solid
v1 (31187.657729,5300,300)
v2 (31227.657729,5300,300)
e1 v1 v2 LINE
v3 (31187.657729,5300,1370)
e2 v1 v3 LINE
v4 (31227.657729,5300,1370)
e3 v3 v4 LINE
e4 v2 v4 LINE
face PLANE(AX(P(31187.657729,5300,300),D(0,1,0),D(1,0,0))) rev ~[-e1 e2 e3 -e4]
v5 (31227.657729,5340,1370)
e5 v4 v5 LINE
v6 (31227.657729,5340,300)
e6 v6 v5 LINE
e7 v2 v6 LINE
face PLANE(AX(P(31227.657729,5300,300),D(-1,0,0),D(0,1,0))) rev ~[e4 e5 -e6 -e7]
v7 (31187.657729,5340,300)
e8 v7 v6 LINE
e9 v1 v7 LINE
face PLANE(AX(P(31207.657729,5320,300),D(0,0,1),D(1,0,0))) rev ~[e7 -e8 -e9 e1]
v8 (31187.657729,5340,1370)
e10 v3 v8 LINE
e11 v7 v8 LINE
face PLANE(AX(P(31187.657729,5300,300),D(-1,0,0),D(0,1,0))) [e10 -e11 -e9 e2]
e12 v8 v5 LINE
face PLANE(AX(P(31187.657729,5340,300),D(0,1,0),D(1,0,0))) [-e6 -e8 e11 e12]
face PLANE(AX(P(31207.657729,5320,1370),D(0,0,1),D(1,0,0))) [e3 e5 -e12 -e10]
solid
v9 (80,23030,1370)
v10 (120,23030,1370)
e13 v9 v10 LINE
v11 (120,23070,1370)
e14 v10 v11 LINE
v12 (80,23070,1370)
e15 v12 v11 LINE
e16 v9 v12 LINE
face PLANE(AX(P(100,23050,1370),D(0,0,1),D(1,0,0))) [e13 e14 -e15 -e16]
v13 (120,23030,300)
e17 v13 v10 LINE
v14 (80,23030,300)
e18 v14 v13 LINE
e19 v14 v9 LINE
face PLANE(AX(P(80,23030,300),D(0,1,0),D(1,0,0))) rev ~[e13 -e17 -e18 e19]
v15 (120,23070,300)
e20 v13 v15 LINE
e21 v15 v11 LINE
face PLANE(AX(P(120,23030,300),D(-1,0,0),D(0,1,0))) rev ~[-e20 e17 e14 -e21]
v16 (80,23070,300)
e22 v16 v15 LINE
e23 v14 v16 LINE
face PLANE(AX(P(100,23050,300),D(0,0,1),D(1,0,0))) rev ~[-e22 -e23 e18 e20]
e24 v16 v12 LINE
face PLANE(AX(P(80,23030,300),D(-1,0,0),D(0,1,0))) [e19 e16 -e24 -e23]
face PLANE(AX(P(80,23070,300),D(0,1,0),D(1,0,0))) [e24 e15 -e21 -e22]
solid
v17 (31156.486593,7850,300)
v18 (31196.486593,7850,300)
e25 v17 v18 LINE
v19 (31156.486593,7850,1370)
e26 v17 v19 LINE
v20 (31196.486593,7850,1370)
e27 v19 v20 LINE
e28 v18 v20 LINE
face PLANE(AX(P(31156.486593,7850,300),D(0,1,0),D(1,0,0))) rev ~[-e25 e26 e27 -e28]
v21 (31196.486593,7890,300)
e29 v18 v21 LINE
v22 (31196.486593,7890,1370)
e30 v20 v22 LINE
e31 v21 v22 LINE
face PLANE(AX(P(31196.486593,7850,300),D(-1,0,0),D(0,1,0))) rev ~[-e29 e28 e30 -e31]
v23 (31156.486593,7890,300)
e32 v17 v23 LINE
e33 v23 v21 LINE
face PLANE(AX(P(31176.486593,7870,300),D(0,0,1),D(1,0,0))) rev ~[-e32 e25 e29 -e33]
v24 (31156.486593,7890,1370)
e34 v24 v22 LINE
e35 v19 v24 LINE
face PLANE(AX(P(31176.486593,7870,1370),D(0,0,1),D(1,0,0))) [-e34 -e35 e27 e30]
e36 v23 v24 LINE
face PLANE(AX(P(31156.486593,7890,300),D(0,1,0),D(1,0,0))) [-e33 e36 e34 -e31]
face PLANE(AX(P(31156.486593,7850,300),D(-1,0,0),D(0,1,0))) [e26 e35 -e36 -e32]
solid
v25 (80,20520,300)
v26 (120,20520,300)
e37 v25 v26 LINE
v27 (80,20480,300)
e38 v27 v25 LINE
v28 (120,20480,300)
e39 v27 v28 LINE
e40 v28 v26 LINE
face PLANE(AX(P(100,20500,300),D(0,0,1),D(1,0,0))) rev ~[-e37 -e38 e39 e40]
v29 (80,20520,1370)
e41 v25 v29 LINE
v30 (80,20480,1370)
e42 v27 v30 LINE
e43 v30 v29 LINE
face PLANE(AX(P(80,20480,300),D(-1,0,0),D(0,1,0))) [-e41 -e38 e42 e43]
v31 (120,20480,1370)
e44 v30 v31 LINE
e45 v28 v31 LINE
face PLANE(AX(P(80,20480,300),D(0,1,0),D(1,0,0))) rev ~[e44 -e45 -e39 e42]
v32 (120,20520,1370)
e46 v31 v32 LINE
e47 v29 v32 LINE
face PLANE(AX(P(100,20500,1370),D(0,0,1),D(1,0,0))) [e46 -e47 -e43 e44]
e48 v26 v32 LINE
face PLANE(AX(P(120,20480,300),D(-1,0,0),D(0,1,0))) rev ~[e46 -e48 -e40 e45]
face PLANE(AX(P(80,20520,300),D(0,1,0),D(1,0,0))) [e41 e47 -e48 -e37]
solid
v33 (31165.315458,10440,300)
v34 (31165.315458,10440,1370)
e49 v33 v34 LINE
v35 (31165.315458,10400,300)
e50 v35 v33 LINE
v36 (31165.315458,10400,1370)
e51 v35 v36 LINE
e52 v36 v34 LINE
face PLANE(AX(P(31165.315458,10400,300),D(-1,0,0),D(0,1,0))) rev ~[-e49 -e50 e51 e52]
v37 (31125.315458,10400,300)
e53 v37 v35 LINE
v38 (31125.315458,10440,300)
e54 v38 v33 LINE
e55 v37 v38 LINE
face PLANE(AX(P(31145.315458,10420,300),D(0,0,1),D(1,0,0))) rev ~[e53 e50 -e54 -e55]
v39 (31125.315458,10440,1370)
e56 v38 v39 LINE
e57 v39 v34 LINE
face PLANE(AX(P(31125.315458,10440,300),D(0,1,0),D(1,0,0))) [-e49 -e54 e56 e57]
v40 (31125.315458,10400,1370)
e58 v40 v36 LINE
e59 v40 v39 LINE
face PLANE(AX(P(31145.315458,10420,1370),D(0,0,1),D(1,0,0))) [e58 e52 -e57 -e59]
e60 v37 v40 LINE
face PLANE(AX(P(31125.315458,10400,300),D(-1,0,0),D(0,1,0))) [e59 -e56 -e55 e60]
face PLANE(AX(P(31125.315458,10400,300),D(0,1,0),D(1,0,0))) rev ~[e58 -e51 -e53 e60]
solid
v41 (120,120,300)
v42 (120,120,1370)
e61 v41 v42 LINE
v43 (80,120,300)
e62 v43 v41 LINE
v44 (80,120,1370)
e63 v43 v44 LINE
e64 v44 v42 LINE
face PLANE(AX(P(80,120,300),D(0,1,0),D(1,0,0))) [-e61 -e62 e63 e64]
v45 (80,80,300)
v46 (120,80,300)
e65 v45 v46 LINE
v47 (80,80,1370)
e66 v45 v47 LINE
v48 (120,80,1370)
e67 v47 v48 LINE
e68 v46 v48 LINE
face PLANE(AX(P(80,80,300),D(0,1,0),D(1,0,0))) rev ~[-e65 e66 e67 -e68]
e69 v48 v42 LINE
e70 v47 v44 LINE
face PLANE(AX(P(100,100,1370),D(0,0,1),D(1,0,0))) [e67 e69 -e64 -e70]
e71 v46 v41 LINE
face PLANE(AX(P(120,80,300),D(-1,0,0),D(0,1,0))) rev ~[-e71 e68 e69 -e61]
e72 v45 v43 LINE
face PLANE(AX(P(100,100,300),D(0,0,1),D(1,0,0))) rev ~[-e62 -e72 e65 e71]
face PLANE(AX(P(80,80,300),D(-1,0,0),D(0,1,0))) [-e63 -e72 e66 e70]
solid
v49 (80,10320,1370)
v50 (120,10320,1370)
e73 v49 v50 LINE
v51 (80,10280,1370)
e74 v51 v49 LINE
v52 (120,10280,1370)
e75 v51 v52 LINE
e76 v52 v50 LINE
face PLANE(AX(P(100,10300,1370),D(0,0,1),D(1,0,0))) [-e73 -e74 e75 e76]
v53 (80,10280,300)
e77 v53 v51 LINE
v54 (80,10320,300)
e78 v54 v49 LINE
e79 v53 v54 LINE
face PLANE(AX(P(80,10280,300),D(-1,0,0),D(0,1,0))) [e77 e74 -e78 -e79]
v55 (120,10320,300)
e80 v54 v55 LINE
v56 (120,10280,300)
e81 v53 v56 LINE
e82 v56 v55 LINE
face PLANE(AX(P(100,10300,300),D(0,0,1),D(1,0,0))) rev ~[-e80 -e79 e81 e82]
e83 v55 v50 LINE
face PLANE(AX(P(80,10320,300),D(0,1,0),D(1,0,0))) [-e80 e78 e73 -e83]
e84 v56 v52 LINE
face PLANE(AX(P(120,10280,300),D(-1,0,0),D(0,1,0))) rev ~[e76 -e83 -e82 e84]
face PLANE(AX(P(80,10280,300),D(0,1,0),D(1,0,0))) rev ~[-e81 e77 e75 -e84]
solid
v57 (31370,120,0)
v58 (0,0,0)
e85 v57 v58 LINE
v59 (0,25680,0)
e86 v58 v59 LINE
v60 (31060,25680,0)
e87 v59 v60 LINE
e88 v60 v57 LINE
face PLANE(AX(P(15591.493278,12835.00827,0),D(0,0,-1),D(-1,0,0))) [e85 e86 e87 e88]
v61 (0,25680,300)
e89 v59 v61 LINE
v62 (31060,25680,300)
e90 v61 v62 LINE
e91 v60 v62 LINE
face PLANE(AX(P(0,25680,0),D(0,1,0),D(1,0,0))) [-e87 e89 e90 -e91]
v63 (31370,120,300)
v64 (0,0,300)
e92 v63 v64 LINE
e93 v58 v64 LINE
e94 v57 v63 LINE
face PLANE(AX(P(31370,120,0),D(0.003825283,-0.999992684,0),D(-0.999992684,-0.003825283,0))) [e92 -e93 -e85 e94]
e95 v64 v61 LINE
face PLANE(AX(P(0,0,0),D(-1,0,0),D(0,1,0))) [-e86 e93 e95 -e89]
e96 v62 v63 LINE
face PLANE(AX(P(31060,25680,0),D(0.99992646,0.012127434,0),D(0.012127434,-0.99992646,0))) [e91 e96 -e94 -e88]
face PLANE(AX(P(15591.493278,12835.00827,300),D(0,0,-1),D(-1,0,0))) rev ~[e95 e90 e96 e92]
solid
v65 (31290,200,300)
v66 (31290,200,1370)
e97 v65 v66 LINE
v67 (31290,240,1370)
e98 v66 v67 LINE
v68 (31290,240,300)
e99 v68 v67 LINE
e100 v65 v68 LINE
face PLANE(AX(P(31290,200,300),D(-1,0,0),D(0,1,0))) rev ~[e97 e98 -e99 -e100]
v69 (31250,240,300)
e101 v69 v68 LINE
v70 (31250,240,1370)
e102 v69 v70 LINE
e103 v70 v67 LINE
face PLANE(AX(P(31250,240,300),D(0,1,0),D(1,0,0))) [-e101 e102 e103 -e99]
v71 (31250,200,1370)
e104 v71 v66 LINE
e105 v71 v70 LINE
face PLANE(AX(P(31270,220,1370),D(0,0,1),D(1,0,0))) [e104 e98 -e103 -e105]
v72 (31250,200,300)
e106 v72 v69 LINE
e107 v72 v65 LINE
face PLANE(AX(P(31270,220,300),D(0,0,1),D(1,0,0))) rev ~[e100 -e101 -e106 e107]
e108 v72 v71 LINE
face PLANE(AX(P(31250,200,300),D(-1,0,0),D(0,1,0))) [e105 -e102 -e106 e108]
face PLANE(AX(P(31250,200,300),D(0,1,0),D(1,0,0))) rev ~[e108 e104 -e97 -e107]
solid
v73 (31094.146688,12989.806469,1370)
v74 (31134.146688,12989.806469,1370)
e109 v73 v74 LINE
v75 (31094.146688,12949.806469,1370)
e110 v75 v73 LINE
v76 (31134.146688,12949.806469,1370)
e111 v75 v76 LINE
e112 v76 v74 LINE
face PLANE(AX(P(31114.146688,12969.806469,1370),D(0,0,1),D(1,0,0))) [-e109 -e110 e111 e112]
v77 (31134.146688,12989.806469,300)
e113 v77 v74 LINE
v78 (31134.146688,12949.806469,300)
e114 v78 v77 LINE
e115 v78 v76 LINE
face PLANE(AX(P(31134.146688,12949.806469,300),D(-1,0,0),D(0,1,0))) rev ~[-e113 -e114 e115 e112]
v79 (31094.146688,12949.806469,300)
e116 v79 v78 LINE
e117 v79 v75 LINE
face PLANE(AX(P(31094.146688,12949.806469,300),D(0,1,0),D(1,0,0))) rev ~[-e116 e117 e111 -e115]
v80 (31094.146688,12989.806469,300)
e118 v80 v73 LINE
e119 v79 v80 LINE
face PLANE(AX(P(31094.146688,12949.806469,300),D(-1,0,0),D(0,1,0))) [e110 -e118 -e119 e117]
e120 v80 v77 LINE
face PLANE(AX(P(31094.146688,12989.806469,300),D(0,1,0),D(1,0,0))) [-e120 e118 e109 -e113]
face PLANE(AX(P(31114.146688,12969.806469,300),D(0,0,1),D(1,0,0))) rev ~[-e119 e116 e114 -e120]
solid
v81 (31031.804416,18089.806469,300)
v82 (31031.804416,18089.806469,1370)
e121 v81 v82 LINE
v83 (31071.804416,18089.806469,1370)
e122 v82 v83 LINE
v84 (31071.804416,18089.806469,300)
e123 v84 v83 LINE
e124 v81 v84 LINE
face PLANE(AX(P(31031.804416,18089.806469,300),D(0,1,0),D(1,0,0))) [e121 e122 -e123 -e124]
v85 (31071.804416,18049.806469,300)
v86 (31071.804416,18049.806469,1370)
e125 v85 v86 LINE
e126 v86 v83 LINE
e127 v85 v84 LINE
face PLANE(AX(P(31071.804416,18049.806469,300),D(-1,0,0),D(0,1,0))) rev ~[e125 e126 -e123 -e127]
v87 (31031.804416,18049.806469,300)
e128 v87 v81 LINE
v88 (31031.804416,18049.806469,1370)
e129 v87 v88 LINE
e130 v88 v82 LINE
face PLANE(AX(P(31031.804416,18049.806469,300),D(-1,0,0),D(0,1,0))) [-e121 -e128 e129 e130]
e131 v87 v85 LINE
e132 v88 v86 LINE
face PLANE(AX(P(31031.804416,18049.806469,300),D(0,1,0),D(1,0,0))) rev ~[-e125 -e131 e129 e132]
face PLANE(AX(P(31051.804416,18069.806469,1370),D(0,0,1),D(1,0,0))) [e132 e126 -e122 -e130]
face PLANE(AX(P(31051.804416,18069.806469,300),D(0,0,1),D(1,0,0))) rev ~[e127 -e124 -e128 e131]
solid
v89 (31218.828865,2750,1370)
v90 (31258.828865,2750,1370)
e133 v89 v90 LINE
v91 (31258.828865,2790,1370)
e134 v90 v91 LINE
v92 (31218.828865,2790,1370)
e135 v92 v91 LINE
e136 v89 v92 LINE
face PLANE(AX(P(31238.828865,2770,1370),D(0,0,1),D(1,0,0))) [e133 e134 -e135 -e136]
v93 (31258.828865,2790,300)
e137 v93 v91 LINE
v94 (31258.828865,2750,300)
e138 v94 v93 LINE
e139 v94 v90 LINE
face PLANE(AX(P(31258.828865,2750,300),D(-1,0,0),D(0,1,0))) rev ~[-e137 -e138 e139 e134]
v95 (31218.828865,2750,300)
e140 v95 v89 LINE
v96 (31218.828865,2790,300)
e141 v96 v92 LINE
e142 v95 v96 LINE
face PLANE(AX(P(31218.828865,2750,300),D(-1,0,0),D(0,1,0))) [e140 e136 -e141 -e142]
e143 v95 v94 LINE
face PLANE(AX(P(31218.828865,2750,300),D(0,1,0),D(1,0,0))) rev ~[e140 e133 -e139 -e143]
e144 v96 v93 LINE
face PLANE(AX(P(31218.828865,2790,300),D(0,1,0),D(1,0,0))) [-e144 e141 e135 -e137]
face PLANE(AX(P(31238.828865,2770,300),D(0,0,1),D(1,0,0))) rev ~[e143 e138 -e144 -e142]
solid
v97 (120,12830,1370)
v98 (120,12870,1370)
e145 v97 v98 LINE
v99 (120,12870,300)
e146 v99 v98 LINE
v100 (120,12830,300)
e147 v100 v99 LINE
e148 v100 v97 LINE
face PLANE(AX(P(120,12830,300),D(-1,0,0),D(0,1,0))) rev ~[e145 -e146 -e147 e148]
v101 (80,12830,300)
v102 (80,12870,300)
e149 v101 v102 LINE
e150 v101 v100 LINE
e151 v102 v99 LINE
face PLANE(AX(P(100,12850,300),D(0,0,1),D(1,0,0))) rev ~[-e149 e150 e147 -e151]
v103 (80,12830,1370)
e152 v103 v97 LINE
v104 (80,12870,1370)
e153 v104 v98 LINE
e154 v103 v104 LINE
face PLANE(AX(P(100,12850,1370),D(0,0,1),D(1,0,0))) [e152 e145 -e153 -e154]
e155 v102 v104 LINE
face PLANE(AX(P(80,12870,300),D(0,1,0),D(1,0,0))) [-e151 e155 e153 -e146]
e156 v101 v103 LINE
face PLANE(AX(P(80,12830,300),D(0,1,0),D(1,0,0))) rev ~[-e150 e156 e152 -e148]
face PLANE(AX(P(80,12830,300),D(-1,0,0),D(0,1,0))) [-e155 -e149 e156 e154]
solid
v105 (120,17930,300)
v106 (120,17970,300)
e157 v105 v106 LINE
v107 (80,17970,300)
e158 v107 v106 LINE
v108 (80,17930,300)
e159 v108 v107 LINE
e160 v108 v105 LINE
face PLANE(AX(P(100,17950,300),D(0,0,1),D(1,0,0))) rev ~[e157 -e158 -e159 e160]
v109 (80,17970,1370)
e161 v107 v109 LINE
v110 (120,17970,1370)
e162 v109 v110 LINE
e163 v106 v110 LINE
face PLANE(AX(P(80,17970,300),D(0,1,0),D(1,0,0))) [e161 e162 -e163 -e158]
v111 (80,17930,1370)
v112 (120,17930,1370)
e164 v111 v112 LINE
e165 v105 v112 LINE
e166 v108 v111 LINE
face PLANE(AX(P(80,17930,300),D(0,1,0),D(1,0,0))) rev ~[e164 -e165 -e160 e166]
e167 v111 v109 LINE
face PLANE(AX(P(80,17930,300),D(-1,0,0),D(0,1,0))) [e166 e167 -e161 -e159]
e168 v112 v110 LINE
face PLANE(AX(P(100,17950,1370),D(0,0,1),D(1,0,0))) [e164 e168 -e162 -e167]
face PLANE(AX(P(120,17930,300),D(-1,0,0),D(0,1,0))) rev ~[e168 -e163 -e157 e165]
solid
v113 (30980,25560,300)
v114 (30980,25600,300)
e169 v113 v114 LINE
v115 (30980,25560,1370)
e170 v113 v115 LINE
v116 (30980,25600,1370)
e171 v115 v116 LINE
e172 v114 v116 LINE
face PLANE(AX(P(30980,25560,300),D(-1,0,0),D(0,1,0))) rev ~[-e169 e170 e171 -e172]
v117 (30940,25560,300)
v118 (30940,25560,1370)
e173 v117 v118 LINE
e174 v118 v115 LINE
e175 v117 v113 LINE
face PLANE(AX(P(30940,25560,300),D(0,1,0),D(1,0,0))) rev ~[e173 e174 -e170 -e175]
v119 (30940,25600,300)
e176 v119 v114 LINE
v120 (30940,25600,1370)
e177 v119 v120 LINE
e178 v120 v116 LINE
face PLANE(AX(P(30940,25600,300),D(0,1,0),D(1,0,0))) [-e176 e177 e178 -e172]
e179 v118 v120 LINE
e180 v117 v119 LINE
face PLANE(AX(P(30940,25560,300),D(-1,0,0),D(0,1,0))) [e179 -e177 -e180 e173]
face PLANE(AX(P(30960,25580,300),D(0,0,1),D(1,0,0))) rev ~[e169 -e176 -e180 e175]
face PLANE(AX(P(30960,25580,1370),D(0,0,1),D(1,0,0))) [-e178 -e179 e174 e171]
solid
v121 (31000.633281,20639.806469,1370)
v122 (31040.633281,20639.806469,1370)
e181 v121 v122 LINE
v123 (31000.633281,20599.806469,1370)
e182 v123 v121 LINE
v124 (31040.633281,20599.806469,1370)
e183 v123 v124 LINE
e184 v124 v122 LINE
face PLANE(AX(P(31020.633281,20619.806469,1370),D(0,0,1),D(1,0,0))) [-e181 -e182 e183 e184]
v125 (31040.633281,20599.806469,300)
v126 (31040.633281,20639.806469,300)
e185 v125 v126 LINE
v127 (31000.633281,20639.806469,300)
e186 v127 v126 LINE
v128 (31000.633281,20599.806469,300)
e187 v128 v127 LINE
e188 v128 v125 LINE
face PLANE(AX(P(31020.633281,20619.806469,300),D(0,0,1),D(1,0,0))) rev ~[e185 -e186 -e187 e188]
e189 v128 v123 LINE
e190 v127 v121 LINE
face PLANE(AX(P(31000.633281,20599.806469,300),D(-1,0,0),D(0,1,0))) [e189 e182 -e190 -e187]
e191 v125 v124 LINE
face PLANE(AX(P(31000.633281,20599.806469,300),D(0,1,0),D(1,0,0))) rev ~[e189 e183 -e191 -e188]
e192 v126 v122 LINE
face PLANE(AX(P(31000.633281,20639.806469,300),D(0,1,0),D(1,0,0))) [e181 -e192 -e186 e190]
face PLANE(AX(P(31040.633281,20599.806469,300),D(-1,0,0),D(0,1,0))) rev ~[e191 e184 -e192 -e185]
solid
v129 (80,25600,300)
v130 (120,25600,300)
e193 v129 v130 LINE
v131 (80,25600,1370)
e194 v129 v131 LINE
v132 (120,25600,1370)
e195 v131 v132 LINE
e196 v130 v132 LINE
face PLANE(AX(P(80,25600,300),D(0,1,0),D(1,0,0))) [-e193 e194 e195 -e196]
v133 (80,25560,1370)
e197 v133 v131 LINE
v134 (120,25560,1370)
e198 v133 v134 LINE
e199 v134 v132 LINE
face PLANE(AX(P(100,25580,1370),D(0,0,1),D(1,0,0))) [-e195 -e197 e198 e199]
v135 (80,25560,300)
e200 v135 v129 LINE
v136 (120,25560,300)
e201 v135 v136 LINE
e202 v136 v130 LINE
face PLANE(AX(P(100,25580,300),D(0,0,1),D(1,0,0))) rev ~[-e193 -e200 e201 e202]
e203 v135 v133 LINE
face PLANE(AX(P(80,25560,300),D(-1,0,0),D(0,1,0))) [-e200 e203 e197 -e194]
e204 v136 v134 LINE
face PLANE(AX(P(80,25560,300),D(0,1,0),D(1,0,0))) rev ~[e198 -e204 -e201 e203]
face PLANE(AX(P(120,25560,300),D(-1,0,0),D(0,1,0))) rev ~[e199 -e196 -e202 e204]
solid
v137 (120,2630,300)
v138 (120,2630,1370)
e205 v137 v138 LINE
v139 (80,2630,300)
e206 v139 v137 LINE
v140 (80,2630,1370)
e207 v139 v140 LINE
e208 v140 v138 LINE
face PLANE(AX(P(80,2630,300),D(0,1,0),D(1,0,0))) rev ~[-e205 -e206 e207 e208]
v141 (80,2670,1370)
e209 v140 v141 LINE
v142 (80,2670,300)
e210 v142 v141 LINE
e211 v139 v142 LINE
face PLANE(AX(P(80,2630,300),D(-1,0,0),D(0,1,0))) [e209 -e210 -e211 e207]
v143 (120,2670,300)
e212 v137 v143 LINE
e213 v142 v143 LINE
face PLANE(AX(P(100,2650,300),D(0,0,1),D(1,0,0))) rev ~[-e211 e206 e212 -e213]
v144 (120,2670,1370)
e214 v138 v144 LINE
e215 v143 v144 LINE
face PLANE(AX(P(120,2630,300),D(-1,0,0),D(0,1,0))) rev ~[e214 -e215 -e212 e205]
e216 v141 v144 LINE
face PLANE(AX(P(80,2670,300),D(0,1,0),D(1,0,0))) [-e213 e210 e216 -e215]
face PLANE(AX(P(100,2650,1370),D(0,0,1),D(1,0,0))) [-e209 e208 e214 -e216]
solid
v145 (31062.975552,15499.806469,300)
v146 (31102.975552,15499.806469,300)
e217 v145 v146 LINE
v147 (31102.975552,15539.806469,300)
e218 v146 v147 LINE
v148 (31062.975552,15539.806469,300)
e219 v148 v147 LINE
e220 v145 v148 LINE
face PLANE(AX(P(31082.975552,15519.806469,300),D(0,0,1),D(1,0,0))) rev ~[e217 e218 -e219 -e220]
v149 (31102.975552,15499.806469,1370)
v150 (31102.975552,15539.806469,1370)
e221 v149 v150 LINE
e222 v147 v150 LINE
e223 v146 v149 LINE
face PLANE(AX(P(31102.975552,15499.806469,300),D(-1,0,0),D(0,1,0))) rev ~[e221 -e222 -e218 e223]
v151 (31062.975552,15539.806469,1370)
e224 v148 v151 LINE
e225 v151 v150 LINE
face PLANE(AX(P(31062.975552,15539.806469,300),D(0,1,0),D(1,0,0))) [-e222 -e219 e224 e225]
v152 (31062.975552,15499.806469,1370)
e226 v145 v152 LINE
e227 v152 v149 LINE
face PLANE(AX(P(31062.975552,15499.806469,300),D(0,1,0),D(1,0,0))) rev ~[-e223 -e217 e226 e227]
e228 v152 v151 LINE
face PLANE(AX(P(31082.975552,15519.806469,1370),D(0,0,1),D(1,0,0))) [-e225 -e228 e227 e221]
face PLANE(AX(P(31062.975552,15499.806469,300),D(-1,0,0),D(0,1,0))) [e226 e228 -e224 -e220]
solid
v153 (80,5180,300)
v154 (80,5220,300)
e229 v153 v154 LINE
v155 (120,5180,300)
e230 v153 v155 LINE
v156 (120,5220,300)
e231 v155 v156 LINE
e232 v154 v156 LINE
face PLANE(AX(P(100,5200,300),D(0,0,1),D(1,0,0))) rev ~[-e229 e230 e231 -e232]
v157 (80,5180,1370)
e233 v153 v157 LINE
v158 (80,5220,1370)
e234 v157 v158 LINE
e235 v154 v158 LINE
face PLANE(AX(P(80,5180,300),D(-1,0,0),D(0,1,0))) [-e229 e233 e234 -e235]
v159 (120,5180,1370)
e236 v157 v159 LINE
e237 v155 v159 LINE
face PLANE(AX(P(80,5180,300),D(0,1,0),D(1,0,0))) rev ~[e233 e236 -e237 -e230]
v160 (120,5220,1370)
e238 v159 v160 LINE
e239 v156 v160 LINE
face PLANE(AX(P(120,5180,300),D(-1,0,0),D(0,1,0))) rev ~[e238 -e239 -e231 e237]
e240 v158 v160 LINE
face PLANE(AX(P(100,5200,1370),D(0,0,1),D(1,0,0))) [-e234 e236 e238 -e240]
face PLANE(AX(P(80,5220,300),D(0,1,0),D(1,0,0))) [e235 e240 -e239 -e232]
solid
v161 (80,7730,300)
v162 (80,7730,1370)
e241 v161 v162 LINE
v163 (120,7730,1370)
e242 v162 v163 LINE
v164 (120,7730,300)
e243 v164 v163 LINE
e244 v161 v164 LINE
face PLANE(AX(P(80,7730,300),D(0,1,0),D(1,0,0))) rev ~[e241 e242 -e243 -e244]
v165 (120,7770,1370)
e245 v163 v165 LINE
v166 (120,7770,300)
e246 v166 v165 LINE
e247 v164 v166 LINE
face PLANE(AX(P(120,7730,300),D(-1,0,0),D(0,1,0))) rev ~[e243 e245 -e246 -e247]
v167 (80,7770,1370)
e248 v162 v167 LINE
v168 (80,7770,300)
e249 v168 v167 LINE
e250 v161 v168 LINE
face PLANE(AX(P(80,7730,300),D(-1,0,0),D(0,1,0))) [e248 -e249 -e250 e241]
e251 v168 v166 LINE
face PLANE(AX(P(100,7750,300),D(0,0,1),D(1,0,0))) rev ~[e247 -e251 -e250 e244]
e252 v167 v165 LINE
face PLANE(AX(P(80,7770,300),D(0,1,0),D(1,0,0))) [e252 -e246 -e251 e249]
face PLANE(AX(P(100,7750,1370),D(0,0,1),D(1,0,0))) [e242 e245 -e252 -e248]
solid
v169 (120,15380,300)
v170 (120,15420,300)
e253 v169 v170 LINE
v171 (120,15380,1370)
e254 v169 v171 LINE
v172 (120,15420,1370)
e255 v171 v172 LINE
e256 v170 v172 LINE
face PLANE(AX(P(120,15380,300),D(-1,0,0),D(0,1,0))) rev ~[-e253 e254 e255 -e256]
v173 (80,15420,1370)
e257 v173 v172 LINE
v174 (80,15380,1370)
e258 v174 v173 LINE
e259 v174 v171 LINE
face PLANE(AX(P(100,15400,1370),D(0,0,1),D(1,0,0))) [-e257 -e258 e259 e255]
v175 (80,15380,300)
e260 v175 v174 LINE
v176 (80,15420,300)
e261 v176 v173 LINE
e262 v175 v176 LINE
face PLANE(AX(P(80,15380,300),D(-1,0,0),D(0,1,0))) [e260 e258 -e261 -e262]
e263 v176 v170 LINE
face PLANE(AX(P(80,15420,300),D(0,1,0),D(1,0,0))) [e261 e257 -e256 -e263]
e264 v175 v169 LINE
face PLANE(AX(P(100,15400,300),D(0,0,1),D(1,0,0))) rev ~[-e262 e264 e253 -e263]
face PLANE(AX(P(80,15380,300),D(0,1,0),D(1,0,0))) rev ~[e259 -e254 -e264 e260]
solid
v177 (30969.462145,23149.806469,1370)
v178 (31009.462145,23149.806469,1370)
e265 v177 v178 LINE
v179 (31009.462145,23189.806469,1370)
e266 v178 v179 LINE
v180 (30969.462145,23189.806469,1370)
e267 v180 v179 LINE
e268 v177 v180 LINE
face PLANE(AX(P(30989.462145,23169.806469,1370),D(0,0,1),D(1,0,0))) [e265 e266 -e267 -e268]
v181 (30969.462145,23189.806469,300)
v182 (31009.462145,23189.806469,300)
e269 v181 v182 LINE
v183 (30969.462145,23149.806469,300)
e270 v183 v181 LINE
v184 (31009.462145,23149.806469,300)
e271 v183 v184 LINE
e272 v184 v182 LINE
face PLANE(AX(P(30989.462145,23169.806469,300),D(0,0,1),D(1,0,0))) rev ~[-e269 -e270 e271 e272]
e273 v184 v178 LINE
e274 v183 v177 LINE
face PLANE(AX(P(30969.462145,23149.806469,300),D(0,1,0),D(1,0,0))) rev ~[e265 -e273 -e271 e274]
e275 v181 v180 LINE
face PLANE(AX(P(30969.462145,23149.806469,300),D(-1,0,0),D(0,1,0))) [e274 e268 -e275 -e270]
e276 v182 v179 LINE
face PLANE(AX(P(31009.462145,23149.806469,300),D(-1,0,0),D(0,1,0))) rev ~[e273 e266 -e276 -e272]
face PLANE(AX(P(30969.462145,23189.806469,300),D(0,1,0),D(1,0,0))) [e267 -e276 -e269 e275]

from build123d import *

# Parameters (mm, degrees)
EXTRUDE_DEPTH    = 300
SKETCH001_W      = 40
SKETCH001_H      = 40
EXTRUDE001_DEPTH = 1070


with BuildPart() as extrude_body:
    # Sketch → Extrude (new body)
    with BuildSketch(Plane.XY):
        Polygon((0, 0), (0, 25680), (31060, 25680), (31370, 120), align=None)
    extrude(amount=EXTRUDE_DEPTH)


with BuildPart() as extrude001:
    # Sketch001 → Extrude001 (new body)
    with BuildSketch(Plane(origin=(15595.505376, 12848.724342, 300), x_dir=(1, 0, 0), z_dir=(0, 0, 1))):
        with Locations((-15495.505376, -12748.724342)):
            Rectangle(SKETCH001_W, SKETCH001_H)
        with Locations((15674.494624, -12628.724342)):
            Rectangle(SKETCH001_W, SKETCH001_H)
        with Locations((15364.494624, 12731.275658)):
            Rectangle(SKETCH001_W, SKETCH001_H)
        with Locations((-15495.505376, 12731.275658)):
            Rectangle(SKETCH001_W, SKETCH001_H)
        with Locations((-15495.505376, -10198.724342)):
            Rectangle(SKETCH001_W, SKETCH001_H)
        with Locations((-15495.505376, -7648.724342)):
            Rectangle(SKETCH001_W, SKETCH001_H)
        with Locations((-15495.505376, -5098.724342)):
            Rectangle(SKETCH001_W, SKETCH001_H)
        with Locations((-15495.505376, -2548.724342)):
            Rectangle(SKETCH001_W, SKETCH001_H)
        with Locations((-15495.505376, 1.275658)):
            Rectangle(SKETCH001_W, SKETCH001_H)
        with Locations((-15495.505376, 2551.275658)):
            Rectangle(SKETCH001_W, SKETCH001_H)
        with Locations((-15495.505376, 5101.275658)):
            Rectangle(SKETCH001_W, SKETCH001_H)
        with Locations((-15495.505376, 7651.275658)):
            Rectangle(SKETCH001_W, SKETCH001_H)
        with Locations((-15495.505376, 10201.275658)):
            Rectangle(SKETCH001_W, SKETCH001_H)
        with Locations((15643.323489, -10078.724342)):
            Rectangle(SKETCH001_W, SKETCH001_H)
        with Locations((15612.152353, -7528.724342)):
            Rectangle(SKETCH001_W, SKETCH001_H)
        with Locations((15580.981217, -4978.724342)):
            Rectangle(SKETCH001_W, SKETCH001_H)
        with Locations((15549.810082, -2428.724342)):
            Rectangle(SKETCH001_W, SKETCH001_H)
        with Locations((15518.641312, 121.082127)):
            Rectangle(SKETCH001_W, SKETCH001_H)
        with Locations((15487.470176, 2671.082127)):
            Rectangle(SKETCH001_W, SKETCH001_H)
        with Locations((15456.29904, 5221.082127)):
            Rectangle(SKETCH001_W, SKETCH001_H)
        with Locations((15425.127905, 7771.082127)):
            Rectangle(SKETCH001_W, SKETCH001_H)
        with Locations((15393.956769, 10321.082127)):
            Rectangle(SKETCH001_W, SKETCH001_H)
    extrude(amount=EXTRUDE001_DEPTH)


solid = Compound([extrude_body.part, extrude001.part])
